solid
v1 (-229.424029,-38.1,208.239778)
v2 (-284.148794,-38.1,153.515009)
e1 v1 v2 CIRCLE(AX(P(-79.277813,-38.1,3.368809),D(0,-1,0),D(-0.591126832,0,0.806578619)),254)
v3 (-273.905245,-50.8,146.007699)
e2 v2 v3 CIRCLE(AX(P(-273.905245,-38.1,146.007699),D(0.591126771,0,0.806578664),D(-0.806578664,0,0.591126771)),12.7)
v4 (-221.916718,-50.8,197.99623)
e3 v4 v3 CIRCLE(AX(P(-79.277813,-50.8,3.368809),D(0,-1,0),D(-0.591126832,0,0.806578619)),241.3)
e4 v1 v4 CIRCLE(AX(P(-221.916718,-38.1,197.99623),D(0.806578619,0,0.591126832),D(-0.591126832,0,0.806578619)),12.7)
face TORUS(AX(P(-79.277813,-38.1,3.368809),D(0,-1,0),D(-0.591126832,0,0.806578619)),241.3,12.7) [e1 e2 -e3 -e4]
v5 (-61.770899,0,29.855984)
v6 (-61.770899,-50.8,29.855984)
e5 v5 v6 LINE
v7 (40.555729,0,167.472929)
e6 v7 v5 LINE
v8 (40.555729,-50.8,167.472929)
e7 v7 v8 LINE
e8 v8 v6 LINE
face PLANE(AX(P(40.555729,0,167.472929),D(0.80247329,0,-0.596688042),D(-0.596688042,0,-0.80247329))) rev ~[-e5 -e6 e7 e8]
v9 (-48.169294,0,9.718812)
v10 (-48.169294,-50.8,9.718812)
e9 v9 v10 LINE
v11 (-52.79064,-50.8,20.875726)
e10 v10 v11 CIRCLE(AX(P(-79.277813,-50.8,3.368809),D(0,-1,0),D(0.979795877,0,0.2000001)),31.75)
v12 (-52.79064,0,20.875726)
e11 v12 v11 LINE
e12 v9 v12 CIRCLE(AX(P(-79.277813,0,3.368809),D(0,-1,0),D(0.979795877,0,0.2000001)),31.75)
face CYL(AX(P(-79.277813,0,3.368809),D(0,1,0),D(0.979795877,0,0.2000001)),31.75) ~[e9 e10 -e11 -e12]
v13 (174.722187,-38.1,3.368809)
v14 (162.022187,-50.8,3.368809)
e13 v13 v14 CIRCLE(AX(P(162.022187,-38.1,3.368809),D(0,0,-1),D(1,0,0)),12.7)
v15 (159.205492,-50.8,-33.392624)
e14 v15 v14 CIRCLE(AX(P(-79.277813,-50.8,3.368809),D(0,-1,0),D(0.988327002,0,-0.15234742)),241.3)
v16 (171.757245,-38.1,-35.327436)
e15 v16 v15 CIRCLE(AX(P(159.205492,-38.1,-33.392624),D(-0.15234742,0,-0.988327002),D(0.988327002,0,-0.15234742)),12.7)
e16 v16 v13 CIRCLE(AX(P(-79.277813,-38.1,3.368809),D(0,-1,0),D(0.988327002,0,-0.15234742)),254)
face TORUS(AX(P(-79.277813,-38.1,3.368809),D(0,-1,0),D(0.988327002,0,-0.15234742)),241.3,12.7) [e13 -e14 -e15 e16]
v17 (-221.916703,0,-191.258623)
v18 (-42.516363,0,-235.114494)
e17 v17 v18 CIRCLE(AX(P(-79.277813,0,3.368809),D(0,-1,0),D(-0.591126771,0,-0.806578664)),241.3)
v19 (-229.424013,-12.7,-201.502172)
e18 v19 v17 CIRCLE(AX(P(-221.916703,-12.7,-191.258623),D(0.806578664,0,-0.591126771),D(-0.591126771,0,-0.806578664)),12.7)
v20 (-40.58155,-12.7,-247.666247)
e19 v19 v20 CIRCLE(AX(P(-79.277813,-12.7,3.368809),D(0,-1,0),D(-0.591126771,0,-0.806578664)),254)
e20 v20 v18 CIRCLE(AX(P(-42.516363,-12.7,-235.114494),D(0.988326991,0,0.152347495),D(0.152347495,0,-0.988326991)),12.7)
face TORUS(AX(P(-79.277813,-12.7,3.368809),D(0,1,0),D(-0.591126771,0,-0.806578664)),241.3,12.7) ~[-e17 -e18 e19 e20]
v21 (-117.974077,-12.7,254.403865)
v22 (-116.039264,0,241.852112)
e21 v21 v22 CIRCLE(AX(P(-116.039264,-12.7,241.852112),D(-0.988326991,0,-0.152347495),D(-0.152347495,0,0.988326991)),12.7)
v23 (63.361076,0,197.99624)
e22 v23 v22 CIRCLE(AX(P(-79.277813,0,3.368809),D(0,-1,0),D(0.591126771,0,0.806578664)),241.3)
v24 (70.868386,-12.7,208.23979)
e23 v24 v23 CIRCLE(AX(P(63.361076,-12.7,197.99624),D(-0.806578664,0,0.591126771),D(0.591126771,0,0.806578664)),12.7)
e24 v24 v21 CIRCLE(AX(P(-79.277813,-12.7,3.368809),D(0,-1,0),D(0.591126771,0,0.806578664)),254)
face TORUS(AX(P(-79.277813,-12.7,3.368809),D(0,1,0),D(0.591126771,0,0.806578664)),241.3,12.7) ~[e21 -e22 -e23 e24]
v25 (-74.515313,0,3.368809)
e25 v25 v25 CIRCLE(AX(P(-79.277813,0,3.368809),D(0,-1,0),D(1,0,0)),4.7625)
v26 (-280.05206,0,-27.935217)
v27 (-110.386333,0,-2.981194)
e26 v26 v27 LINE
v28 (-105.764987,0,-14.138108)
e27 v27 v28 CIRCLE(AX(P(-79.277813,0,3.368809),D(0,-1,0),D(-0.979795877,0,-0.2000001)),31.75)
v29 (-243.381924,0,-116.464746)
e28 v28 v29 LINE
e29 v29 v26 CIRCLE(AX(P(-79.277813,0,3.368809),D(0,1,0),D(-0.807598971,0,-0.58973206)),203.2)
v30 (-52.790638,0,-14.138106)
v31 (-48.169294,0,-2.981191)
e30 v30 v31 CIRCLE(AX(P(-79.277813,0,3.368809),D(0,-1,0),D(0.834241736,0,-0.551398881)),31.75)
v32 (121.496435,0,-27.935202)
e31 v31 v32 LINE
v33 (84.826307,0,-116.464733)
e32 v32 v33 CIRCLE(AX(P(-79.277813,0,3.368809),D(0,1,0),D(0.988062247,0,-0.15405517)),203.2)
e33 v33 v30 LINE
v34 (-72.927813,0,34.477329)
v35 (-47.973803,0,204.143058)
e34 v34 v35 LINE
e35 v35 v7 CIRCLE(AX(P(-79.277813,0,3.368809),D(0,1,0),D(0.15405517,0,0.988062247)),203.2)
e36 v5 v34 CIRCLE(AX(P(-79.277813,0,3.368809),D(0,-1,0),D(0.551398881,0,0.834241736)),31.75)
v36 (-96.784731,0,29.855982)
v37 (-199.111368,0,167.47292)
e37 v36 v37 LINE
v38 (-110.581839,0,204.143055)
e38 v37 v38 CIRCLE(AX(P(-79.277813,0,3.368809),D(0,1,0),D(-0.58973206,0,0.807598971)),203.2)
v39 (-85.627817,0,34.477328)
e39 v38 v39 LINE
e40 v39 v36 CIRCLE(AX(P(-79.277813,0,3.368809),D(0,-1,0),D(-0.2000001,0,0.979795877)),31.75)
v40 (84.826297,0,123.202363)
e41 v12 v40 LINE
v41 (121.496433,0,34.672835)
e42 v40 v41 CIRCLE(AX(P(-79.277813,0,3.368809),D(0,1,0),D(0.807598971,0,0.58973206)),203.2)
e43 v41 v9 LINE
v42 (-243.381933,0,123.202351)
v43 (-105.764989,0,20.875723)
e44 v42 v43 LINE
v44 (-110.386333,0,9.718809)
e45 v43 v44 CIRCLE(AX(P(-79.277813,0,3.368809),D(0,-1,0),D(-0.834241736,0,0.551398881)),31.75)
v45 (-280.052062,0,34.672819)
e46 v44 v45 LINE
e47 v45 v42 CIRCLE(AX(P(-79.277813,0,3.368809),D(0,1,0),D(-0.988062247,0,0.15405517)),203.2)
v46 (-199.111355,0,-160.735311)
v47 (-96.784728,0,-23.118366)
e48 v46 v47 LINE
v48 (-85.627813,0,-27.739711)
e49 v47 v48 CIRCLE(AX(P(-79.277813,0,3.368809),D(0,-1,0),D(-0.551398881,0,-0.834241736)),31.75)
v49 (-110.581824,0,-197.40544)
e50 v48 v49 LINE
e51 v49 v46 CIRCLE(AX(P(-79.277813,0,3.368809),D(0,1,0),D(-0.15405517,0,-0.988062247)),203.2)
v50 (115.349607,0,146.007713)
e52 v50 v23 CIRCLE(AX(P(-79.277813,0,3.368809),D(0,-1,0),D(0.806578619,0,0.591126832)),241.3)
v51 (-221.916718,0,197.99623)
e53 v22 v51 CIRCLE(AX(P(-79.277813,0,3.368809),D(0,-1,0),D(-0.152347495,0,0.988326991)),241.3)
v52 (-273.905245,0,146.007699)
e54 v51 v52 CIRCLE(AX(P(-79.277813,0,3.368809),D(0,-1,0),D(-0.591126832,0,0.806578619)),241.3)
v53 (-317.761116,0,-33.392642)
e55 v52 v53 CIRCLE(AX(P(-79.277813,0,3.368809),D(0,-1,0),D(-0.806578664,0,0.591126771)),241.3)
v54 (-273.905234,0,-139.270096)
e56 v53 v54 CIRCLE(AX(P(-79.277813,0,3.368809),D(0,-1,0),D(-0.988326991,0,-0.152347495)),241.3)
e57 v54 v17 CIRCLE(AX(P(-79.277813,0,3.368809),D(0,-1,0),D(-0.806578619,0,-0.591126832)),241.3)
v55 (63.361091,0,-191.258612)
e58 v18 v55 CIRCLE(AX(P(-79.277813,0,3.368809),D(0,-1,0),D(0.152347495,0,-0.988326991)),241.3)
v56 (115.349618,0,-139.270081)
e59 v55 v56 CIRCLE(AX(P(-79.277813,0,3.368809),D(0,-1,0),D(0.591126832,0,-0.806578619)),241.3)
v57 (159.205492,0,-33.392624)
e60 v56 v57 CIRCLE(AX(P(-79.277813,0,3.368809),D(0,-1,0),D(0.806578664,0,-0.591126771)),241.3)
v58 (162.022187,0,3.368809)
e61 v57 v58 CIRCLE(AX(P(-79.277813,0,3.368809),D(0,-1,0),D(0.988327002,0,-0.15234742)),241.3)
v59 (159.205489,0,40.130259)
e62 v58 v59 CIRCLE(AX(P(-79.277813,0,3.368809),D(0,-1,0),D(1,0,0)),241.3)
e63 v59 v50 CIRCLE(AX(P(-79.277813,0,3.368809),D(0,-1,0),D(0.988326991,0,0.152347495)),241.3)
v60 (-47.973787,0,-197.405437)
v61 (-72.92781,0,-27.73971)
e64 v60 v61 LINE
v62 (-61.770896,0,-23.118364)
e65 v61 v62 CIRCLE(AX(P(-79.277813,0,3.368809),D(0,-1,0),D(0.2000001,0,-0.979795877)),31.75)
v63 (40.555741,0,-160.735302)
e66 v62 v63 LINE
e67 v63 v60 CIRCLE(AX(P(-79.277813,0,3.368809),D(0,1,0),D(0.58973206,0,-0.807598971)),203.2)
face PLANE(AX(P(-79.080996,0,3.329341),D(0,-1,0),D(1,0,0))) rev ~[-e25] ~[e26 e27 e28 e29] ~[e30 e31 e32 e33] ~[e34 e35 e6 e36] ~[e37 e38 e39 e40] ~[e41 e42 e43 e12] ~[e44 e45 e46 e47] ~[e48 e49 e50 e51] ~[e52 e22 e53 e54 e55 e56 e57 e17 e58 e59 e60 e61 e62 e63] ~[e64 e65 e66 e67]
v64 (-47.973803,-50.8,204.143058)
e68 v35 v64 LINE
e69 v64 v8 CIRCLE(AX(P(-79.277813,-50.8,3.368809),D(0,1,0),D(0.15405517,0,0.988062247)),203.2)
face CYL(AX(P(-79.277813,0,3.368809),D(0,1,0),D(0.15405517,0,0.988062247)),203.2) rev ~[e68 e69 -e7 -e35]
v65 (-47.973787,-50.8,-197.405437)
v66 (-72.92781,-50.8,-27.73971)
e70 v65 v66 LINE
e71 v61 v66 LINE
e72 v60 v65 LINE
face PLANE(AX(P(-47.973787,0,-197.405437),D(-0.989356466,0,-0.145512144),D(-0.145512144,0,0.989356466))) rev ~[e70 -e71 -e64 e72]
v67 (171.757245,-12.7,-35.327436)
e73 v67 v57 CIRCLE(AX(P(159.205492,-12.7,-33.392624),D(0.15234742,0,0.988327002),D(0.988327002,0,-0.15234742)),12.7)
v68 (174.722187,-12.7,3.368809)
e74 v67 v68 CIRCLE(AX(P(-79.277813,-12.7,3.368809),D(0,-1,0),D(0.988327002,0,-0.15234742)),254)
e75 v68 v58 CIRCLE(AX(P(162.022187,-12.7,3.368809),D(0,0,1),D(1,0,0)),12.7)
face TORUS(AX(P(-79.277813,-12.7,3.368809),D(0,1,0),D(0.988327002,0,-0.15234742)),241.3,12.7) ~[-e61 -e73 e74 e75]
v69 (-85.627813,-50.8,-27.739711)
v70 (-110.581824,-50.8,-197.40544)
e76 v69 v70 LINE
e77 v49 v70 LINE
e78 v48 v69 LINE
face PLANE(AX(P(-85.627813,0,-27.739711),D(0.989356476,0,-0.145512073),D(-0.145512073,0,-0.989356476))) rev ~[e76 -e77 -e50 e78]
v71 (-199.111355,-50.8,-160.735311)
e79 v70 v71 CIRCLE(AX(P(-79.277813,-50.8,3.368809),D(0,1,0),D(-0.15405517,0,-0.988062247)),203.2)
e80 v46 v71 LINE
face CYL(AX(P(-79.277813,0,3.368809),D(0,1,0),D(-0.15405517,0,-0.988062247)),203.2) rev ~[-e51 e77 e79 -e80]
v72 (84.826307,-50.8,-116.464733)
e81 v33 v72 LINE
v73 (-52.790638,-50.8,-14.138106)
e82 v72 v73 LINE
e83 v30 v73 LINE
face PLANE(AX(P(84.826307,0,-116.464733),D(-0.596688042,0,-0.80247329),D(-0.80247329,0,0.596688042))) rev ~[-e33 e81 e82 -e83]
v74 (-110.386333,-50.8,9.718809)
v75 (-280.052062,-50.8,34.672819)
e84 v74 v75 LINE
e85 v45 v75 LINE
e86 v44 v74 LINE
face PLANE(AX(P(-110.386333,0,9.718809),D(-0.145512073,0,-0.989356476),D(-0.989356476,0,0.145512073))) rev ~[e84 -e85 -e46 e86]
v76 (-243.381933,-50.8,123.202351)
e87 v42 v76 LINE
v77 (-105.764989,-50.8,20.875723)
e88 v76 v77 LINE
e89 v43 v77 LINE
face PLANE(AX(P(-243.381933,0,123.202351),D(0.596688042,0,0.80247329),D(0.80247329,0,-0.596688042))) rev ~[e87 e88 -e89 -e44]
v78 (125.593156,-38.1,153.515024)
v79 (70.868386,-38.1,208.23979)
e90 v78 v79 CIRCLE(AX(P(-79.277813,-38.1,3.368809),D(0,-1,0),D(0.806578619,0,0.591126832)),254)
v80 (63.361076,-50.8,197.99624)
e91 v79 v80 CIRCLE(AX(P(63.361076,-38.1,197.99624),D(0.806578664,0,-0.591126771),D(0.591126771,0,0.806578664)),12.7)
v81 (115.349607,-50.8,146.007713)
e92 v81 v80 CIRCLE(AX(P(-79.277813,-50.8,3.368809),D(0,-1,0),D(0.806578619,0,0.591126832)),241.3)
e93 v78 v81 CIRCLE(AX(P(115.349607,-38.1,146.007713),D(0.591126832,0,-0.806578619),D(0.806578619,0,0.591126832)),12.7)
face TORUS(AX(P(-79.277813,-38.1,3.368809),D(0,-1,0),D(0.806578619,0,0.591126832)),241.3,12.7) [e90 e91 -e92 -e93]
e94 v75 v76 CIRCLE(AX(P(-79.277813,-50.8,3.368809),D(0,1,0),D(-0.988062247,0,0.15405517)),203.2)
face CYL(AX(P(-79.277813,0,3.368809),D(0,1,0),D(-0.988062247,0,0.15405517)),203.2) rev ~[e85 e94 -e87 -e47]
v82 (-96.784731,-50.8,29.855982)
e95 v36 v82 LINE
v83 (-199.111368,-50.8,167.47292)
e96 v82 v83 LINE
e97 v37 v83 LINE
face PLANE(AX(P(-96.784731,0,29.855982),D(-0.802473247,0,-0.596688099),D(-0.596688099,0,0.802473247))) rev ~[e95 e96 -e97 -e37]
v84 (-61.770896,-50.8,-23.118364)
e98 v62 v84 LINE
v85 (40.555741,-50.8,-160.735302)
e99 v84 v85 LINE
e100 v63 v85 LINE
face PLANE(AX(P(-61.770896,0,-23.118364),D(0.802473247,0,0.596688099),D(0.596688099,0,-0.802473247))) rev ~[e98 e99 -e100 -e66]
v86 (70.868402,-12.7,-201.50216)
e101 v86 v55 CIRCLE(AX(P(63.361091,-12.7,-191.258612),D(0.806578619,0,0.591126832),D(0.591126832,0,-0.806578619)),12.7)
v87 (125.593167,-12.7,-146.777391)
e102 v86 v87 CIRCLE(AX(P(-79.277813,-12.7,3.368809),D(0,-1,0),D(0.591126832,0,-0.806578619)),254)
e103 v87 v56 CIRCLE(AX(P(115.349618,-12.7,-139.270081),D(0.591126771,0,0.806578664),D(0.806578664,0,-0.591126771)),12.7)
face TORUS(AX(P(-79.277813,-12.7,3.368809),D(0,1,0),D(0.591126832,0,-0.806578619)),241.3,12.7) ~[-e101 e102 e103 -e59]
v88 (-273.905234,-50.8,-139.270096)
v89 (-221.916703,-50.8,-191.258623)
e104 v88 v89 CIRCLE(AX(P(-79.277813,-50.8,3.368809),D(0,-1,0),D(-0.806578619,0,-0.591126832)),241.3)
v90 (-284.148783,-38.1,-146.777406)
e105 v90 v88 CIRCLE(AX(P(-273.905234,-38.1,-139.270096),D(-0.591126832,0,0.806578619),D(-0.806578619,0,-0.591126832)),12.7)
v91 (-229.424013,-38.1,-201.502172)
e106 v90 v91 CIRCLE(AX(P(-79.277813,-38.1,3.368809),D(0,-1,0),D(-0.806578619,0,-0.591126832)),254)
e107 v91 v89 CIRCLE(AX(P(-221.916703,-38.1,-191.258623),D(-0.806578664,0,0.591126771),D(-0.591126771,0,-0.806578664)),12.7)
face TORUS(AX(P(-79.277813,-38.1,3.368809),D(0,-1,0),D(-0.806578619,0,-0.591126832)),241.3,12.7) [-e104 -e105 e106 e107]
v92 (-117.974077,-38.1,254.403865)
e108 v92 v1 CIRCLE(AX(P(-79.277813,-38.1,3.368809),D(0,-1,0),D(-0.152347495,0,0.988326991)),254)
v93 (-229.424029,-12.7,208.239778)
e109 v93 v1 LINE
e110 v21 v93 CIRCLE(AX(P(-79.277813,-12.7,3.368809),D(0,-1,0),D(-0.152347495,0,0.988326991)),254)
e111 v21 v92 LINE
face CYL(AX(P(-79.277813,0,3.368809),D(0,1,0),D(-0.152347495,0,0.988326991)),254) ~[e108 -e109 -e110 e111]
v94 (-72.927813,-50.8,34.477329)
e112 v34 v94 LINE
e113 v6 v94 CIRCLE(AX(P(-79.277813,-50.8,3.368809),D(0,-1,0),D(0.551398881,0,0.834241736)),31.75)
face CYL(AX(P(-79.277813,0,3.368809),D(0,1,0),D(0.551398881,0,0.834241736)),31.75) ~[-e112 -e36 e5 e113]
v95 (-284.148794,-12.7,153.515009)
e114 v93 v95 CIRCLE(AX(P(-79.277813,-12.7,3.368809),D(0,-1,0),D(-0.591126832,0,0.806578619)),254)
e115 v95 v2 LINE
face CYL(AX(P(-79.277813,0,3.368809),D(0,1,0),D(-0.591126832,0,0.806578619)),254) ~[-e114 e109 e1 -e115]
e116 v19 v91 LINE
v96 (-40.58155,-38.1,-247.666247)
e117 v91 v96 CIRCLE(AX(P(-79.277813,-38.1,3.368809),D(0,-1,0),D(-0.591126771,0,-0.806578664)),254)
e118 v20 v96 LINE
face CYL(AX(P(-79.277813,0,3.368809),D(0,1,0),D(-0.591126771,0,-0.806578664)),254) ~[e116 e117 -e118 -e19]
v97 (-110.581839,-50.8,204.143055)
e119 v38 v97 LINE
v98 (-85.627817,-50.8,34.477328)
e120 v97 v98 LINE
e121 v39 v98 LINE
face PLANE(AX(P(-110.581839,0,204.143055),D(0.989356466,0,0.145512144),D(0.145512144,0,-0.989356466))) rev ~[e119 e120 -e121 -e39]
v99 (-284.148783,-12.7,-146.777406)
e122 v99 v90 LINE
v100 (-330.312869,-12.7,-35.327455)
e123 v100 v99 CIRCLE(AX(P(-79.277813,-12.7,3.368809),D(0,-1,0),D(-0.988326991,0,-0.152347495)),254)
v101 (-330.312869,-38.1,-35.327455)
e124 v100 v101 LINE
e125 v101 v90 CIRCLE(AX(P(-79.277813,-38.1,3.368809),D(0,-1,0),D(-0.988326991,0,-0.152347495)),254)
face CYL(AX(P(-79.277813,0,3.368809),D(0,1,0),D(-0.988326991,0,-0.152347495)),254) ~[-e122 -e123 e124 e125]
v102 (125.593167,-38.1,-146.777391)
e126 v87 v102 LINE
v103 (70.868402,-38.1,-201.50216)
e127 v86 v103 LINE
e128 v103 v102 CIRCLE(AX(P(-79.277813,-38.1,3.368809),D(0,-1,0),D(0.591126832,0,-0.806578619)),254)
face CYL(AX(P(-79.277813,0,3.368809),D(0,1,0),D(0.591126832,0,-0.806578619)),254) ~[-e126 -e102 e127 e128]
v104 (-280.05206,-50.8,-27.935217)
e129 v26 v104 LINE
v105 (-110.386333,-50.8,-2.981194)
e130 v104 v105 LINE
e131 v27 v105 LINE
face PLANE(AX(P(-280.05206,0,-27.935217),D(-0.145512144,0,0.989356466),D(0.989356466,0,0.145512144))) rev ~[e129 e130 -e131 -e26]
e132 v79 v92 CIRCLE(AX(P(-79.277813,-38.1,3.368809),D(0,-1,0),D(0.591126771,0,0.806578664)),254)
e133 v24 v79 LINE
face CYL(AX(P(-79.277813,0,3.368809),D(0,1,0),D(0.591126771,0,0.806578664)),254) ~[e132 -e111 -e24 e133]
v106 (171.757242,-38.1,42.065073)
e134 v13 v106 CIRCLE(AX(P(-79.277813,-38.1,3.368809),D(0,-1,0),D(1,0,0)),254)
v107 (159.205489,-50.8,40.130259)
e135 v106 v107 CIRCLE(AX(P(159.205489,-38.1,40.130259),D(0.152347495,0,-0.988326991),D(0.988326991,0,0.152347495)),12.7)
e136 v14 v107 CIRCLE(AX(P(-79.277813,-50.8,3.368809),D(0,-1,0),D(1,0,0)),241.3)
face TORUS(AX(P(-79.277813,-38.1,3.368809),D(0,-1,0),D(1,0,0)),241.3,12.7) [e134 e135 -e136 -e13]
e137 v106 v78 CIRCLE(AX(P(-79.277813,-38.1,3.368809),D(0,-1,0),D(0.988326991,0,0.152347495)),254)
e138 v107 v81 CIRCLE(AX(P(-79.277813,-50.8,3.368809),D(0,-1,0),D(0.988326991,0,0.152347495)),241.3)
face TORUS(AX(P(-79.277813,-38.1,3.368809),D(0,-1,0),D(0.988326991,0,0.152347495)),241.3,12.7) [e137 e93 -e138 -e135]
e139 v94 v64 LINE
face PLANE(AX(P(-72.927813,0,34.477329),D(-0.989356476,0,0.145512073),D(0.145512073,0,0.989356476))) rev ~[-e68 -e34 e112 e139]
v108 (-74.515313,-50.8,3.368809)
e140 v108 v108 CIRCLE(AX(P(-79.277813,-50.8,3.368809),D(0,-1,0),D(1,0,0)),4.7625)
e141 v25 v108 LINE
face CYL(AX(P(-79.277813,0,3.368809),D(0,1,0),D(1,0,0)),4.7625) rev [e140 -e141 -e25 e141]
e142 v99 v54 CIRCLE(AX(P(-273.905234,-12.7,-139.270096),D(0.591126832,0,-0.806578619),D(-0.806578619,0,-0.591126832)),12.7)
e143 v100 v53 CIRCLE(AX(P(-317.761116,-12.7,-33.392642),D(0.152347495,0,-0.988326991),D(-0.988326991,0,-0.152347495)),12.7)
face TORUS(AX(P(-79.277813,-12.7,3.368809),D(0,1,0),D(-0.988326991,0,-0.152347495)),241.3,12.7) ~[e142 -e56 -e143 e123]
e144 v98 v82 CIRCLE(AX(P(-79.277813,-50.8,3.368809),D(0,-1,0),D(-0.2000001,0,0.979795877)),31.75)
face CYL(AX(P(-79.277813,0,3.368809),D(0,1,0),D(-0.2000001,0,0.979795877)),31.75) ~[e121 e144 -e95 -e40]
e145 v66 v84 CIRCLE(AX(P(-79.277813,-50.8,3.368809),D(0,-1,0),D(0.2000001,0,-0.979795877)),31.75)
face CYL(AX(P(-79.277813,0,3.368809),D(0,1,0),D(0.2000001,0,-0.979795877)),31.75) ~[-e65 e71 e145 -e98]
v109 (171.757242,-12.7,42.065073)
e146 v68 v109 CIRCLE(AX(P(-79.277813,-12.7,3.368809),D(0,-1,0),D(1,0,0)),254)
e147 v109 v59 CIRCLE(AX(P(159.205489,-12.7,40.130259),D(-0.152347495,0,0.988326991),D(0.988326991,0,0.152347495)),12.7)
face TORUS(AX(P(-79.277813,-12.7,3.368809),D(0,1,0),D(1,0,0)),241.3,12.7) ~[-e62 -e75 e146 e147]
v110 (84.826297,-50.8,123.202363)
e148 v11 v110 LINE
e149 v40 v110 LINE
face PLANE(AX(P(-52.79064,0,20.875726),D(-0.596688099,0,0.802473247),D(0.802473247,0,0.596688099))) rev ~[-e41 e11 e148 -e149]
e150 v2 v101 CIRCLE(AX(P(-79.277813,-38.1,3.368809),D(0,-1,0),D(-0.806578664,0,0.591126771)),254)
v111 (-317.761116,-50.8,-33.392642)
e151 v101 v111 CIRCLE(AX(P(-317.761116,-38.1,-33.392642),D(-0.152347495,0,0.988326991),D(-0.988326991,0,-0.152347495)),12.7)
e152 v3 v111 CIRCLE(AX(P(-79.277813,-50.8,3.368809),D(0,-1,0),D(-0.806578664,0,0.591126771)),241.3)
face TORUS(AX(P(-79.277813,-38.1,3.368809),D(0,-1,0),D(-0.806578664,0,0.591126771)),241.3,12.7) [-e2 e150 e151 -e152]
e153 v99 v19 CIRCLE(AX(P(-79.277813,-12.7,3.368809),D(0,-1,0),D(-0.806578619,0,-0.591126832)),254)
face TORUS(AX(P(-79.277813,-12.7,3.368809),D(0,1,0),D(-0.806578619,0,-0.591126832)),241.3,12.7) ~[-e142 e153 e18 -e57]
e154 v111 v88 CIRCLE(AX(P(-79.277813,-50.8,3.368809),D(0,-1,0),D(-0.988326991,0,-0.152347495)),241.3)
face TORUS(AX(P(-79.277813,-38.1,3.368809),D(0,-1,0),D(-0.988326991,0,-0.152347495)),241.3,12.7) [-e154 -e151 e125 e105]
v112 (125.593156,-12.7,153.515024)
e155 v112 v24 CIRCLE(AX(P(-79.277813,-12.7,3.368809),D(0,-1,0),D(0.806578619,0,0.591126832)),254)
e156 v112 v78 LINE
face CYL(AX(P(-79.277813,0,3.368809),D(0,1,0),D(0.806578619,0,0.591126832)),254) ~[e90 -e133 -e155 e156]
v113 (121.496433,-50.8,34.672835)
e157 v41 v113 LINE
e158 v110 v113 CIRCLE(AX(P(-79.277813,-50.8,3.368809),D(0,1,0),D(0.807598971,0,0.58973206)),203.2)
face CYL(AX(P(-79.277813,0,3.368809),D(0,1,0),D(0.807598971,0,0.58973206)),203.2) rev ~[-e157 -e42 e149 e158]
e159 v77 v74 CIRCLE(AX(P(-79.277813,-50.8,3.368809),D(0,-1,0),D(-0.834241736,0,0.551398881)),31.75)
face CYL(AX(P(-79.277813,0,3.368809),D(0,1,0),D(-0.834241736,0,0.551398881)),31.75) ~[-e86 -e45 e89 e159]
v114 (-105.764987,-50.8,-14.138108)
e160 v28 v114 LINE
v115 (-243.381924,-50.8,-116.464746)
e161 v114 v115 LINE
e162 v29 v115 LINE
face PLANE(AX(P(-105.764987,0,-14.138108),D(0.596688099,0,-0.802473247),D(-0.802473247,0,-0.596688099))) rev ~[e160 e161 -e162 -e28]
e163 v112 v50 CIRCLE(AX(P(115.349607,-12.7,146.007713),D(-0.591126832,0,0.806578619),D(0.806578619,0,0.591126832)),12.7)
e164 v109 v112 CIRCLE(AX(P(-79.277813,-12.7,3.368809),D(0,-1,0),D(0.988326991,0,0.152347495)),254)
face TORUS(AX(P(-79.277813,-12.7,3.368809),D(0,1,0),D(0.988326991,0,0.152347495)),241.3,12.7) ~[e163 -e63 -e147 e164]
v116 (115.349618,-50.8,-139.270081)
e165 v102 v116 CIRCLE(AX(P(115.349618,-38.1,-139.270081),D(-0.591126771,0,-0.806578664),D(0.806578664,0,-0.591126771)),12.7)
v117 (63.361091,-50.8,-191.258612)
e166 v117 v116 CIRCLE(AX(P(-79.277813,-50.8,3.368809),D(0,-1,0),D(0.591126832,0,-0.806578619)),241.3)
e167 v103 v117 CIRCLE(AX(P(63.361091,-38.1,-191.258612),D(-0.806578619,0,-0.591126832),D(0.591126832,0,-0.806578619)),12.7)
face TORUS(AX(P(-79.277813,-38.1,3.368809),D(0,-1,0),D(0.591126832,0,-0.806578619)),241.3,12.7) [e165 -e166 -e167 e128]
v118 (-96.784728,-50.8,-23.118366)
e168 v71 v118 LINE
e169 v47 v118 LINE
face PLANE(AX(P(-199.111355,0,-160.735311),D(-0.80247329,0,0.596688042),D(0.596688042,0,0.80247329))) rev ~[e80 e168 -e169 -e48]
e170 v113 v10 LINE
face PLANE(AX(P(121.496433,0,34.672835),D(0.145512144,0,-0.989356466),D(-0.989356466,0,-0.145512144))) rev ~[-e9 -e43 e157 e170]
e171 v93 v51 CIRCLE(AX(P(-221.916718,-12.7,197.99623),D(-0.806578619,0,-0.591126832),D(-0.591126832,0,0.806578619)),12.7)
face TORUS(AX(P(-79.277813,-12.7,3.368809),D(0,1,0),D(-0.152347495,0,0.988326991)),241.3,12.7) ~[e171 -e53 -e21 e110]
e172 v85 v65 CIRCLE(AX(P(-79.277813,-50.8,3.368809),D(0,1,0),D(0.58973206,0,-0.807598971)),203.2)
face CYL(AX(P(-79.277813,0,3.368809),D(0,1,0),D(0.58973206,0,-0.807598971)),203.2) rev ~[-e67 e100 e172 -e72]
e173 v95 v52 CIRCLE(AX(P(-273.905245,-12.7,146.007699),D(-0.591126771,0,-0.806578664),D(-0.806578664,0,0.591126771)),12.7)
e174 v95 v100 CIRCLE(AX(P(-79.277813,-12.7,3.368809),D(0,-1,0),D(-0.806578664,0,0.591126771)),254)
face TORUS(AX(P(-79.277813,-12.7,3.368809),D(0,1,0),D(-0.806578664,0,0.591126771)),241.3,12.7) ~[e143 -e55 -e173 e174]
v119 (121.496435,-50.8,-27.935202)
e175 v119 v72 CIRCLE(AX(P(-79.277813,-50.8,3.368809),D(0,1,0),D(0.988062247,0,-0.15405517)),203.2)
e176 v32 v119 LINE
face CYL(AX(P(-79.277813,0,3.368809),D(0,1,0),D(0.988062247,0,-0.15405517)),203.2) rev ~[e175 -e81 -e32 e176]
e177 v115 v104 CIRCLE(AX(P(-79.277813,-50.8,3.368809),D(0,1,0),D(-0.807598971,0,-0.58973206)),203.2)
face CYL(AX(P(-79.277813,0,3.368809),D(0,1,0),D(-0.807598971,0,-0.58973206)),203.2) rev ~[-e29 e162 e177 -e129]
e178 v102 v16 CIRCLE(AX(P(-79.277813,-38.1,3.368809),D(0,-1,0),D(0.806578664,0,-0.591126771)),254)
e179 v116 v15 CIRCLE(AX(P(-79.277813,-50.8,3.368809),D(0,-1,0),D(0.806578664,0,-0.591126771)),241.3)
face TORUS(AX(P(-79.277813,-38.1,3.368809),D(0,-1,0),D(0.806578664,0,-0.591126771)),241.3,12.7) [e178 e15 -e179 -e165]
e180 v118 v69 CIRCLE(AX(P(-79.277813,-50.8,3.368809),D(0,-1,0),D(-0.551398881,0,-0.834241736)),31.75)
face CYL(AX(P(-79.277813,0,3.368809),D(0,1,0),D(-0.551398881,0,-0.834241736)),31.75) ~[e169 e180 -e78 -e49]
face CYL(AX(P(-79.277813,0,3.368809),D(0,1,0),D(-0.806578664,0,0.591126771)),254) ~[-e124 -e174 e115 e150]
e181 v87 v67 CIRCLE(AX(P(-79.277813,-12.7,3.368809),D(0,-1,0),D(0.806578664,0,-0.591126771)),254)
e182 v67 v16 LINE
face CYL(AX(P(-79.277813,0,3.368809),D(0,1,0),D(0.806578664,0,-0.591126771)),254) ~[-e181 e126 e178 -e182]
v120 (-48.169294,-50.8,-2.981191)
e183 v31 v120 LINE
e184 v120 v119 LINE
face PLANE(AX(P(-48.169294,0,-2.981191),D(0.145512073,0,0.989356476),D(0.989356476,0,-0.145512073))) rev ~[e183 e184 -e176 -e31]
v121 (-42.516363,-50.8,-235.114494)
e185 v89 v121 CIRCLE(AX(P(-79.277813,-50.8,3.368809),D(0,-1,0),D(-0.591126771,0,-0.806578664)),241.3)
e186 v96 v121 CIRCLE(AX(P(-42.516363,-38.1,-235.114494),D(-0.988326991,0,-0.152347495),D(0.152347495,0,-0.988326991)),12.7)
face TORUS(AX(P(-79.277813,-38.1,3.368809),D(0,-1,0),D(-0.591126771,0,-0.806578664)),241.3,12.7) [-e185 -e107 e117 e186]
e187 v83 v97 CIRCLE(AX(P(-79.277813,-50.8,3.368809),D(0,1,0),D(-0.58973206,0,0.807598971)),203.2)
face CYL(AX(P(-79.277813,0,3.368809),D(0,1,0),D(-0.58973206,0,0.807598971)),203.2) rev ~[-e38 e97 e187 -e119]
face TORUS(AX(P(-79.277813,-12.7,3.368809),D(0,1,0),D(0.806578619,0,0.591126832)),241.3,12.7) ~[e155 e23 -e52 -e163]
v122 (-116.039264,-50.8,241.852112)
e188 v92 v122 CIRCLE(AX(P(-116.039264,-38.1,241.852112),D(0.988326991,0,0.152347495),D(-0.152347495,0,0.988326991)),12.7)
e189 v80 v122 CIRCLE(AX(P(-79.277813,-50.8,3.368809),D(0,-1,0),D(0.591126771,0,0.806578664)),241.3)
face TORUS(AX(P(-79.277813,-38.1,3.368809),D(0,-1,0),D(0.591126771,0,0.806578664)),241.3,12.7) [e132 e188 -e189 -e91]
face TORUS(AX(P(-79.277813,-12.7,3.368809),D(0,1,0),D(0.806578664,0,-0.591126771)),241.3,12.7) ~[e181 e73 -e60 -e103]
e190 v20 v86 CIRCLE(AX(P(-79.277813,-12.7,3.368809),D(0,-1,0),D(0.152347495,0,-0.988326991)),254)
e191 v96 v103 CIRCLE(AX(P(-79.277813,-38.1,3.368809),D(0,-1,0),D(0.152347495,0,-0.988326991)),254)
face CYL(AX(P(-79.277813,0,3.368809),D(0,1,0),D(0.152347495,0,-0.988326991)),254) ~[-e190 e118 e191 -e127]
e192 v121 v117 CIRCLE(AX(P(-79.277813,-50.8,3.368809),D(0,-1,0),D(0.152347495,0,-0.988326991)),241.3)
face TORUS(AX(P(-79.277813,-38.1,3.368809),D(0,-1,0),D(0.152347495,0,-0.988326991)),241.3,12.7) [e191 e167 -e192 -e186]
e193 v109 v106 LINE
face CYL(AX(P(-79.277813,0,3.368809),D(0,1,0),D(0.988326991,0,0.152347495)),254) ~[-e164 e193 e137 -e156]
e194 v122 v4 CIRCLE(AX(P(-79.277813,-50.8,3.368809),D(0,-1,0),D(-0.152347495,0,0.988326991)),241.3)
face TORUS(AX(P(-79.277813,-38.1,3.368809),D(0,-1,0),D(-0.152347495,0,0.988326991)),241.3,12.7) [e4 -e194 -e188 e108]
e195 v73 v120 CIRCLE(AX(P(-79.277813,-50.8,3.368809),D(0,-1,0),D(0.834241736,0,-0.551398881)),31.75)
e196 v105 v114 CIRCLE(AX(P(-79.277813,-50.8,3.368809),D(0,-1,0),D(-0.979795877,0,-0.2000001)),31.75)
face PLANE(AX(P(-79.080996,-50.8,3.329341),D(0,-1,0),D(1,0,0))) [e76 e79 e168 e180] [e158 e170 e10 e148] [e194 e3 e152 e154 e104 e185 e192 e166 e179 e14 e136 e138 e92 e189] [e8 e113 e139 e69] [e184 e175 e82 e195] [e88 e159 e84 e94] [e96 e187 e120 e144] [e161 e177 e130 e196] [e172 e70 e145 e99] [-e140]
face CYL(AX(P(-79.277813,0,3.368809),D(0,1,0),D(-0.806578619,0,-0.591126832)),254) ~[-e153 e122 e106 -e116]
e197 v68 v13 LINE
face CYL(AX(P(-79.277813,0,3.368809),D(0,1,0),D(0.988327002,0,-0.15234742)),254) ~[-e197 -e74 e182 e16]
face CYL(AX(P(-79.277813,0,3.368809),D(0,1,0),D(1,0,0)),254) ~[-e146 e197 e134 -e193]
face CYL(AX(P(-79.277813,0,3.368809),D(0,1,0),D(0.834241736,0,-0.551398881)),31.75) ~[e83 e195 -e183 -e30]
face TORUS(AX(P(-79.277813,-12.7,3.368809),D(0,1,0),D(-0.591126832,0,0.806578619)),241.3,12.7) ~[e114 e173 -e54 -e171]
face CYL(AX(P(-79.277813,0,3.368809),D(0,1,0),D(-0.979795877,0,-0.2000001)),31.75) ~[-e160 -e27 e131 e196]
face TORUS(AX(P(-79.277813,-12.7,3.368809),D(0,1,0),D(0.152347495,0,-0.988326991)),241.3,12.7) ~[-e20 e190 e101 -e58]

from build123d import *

# Parameters (mm, degrees)
F0_R     = 4.7625
F1_DEPTH = 50.8
F2_R     = 12.7


with BuildPart() as f1:
    # F0 (on Front) → F1 (new body)
    with BuildSketch(Plane.XZ):
        with BuildLine():
            ThreePointArc((171.7572451724, -35.3274357641), (173.9798664945, -16.0360244509), (174.7221865654, 3.3688088879))
            ThreePointArc((174.7221865654, 3.3688088879), (173.9798657597, 22.7736518176), (171.7572422416, 42.0650725533))
            ThreePointArc((171.7572422416, 42.0650725533), (155.3875841422, 100.5704095954), (125.5931558219, 153.5150241446))
            ThreePointArc((125.5931558219, 153.5150241446), (100.3273021851, 182.9739381109), (70.8683863051, 208.2397895165))
            ThreePointArc((70.8683863051, 208.2397895165), (17.9237694993, 238.0342138268), (-40.5815687826, 254.4038674949))
            ThreePointArc((-40.5815687826, 254.4038674949), (-79.2778230536, 257.3688088879), (-117.9740771, 254.4038645641))
            ThreePointArc((-117.9740771, 254.4038645641), (-176.4794141421, 238.0342064647), (-229.4240286913, 208.2397781444))
            ThreePointArc((-229.4240286913, 208.2397781444), (-258.8829426576, 182.9739245076), (-284.1487940632, 153.5150086276))
            ThreePointArc((-284.1487940632, 153.5150086276), (-313.9432183735, 100.5703918218), (-330.3128720416, 42.0650535399))
            ThreePointArc((-330.3128720416, 42.0650535399), (-333.2778134346, 3.3687992689), (-330.3128691108, -35.3274547775))
            ThreePointArc((-330.3128691108, -35.3274547775), (-313.9432110114, -93.8327918196), (-284.1487826911, -146.7774063688))
            ThreePointArc((-284.1487826911, -146.7774063688), (-258.8829290543, -176.2363203351), (-229.4240131743, -201.5021717407))
            ThreePointArc((-229.4240131743, -201.5021717407), (-176.4793963685, -231.296596051), (-117.9740580866, -247.6662497191))
            ThreePointArc((-117.9740580866, -247.6662497191), (-79.2778038156, -250.6311911121), (-40.5815497692, -247.6662467883))
            ThreePointArc((-40.5815497692, -247.6662467883), (17.9237872729, -231.2965886889), (70.8684018221, -201.5021603686))
            ThreePointArc((70.8684018221, -201.5021603686), (100.3273157884, -176.2363067318), (125.593167194, -146.7773908518))
            ThreePointArc((125.593167194, -146.7773908518), (155.3875915043, -93.832774046), (171.7572451724, -35.3274357641))
        make_face()
        with BuildLine():
            Line((-199.111355404, -160.7353111672), (-96.7847279201, -23.11836622))
            ThreePointArc((-96.7847279201, -23.11836622), (-91.4280109116, -25.9643668909), (-85.6278134346, -27.7397108454))
            Line((-85.6278134346, -27.7397108454), (-110.5818240092, -197.4054397645))
            ThreePointArc((-110.5818240092, -197.4054397645), (-157.0390796928, -184.3635151001), (-199.111355404, -160.7353111672))
        make_face(mode=Mode.SUBTRACT)
        with BuildLine():
            ThreePointArc((-243.3819243, -116.4647456663), (-267.0101314592, -74.3924717671), (-280.0520596864, -27.9352170836))
            Line((-280.0520596864, -27.9352170836), (-110.3863325182, -2.981194295))
            ThreePointArc((-110.3863325182, -2.981194295), (-108.6109879703, -8.7813915903), (-105.7649867513, -14.1381083077))
            Line((-105.7649867513, -14.1381083077), (-243.3819243, -116.4647456663))
        make_face(mode=Mode.SUBTRACT)
        with BuildLine():
            Line((-47.9737874631, -197.4054373639), (-72.9278102517, -27.7397101957))
            ThreePointArc((-72.9278102517, -27.7397101957), (-67.1276129564, -25.9643656478), (-61.770896239, -23.1183644288))
            Line((-61.770896239, -23.1183644288), (40.5557411196, -160.7353019775))
            ThreePointArc((40.5557411196, -160.7353019775), (-1.5165327796, -184.3635091367), (-47.9737874631, -197.4054373639))
        make_face(mode=Mode.SUBTRACT)
        with BuildLine():
            Line((84.8263066205, -116.4647330815), (-52.7906383267, -14.1381055976))
            ThreePointArc((-52.7906383267, -14.1381055976), (-49.9446376558, -8.7813885891), (-48.1692937013, -2.9811911121))
            Line((-48.1692937013, -2.9811911121), (121.4964352178, -27.9352016867))
            ThreePointArc((121.4964352178, -27.9352016867), (108.4545105534, -74.3924573703), (84.8263066205, -116.4647330815))
        make_face(mode=Mode.SUBTRACT)
        with BuildLine():
            Line((-243.3819334897, 123.2023508573), (-105.7649885425, 20.8757233734))
            ThreePointArc((-105.7649885425, 20.8757233734), (-108.6109892134, 15.5190063649), (-110.3863331679, 9.7188088879))
            Line((-110.3863331679, 9.7188088879), (-280.052062087, 34.6728194624))
            ThreePointArc((-280.052062087, 34.6728194624), (-267.0101374226, 81.1300751461), (-243.3819334897, 123.2023508573))
        make_face(mode=Mode.SUBTRACT)
        with BuildLine():
            Line((-110.5818394061, 204.1430551397), (-85.6278166175, 34.4773279715))
            ThreePointArc((-85.6278166175, 34.4773279715), (-91.4280139128, 32.7019834236), (-96.7847306302, 29.8559822046))
            Line((-96.7847306302, 29.8559822046), (-199.1113679888, 167.4729197533))
            ThreePointArc((-199.1113679888, 167.4729197533), (-157.0390940896, 191.1011269125), (-110.5818394061, 204.1430551397))
        make_face(mode=Mode.SUBTRACT)
        with Locations((-79.2778134346, 3.3688088879)):
            Circle(F0_R, mode=Mode.SUBTRACT)
        with BuildLine():
            Line((121.4964328172, 34.6728348594), (-48.169294351, 9.7188120708))
            ThreePointArc((-48.169294351, 9.7188120708), (-49.9446388989, 15.5190093661), (-52.7906401179, 20.8757260835))
            Line((-52.7906401179, 20.8757260835), (84.8262974308, 123.2023634421))
            ThreePointArc((84.8262974308, 123.2023634421), (108.45450459, 81.1300895429), (121.4964328172, 34.6728348594))
        make_face(mode=Mode.SUBTRACT)
        with BuildLine():
            ThreePointArc((-61.7708989491, 29.8559839958), (-67.1276159576, 32.7019846667), (-72.9278134346, 34.4773286212))
            Line((-72.9278134346, 34.4773286212), (-47.9738028601, 204.1430575403))
            ThreePointArc((-47.9738028601, 204.1430575403), (-1.5165471764, 191.1011328759), (40.5557285348, 167.472928943))
            Line((40.5557285348, 167.472928943), (-61.7708989491, 29.8559839958))
        make_face(mode=Mode.SUBTRACT)
    extrude(amount=F1_DEPTH)

    # F2
    f2_edges = [f1.edges().sort_by_distance(p)[0] for p in [
        (-229.424029, -50.8, 208.239778),
        (-229.424029, 0, 208.239778),
    ]]
    fillet(f2_edges, radius=F2_R)


solid = f1.part
